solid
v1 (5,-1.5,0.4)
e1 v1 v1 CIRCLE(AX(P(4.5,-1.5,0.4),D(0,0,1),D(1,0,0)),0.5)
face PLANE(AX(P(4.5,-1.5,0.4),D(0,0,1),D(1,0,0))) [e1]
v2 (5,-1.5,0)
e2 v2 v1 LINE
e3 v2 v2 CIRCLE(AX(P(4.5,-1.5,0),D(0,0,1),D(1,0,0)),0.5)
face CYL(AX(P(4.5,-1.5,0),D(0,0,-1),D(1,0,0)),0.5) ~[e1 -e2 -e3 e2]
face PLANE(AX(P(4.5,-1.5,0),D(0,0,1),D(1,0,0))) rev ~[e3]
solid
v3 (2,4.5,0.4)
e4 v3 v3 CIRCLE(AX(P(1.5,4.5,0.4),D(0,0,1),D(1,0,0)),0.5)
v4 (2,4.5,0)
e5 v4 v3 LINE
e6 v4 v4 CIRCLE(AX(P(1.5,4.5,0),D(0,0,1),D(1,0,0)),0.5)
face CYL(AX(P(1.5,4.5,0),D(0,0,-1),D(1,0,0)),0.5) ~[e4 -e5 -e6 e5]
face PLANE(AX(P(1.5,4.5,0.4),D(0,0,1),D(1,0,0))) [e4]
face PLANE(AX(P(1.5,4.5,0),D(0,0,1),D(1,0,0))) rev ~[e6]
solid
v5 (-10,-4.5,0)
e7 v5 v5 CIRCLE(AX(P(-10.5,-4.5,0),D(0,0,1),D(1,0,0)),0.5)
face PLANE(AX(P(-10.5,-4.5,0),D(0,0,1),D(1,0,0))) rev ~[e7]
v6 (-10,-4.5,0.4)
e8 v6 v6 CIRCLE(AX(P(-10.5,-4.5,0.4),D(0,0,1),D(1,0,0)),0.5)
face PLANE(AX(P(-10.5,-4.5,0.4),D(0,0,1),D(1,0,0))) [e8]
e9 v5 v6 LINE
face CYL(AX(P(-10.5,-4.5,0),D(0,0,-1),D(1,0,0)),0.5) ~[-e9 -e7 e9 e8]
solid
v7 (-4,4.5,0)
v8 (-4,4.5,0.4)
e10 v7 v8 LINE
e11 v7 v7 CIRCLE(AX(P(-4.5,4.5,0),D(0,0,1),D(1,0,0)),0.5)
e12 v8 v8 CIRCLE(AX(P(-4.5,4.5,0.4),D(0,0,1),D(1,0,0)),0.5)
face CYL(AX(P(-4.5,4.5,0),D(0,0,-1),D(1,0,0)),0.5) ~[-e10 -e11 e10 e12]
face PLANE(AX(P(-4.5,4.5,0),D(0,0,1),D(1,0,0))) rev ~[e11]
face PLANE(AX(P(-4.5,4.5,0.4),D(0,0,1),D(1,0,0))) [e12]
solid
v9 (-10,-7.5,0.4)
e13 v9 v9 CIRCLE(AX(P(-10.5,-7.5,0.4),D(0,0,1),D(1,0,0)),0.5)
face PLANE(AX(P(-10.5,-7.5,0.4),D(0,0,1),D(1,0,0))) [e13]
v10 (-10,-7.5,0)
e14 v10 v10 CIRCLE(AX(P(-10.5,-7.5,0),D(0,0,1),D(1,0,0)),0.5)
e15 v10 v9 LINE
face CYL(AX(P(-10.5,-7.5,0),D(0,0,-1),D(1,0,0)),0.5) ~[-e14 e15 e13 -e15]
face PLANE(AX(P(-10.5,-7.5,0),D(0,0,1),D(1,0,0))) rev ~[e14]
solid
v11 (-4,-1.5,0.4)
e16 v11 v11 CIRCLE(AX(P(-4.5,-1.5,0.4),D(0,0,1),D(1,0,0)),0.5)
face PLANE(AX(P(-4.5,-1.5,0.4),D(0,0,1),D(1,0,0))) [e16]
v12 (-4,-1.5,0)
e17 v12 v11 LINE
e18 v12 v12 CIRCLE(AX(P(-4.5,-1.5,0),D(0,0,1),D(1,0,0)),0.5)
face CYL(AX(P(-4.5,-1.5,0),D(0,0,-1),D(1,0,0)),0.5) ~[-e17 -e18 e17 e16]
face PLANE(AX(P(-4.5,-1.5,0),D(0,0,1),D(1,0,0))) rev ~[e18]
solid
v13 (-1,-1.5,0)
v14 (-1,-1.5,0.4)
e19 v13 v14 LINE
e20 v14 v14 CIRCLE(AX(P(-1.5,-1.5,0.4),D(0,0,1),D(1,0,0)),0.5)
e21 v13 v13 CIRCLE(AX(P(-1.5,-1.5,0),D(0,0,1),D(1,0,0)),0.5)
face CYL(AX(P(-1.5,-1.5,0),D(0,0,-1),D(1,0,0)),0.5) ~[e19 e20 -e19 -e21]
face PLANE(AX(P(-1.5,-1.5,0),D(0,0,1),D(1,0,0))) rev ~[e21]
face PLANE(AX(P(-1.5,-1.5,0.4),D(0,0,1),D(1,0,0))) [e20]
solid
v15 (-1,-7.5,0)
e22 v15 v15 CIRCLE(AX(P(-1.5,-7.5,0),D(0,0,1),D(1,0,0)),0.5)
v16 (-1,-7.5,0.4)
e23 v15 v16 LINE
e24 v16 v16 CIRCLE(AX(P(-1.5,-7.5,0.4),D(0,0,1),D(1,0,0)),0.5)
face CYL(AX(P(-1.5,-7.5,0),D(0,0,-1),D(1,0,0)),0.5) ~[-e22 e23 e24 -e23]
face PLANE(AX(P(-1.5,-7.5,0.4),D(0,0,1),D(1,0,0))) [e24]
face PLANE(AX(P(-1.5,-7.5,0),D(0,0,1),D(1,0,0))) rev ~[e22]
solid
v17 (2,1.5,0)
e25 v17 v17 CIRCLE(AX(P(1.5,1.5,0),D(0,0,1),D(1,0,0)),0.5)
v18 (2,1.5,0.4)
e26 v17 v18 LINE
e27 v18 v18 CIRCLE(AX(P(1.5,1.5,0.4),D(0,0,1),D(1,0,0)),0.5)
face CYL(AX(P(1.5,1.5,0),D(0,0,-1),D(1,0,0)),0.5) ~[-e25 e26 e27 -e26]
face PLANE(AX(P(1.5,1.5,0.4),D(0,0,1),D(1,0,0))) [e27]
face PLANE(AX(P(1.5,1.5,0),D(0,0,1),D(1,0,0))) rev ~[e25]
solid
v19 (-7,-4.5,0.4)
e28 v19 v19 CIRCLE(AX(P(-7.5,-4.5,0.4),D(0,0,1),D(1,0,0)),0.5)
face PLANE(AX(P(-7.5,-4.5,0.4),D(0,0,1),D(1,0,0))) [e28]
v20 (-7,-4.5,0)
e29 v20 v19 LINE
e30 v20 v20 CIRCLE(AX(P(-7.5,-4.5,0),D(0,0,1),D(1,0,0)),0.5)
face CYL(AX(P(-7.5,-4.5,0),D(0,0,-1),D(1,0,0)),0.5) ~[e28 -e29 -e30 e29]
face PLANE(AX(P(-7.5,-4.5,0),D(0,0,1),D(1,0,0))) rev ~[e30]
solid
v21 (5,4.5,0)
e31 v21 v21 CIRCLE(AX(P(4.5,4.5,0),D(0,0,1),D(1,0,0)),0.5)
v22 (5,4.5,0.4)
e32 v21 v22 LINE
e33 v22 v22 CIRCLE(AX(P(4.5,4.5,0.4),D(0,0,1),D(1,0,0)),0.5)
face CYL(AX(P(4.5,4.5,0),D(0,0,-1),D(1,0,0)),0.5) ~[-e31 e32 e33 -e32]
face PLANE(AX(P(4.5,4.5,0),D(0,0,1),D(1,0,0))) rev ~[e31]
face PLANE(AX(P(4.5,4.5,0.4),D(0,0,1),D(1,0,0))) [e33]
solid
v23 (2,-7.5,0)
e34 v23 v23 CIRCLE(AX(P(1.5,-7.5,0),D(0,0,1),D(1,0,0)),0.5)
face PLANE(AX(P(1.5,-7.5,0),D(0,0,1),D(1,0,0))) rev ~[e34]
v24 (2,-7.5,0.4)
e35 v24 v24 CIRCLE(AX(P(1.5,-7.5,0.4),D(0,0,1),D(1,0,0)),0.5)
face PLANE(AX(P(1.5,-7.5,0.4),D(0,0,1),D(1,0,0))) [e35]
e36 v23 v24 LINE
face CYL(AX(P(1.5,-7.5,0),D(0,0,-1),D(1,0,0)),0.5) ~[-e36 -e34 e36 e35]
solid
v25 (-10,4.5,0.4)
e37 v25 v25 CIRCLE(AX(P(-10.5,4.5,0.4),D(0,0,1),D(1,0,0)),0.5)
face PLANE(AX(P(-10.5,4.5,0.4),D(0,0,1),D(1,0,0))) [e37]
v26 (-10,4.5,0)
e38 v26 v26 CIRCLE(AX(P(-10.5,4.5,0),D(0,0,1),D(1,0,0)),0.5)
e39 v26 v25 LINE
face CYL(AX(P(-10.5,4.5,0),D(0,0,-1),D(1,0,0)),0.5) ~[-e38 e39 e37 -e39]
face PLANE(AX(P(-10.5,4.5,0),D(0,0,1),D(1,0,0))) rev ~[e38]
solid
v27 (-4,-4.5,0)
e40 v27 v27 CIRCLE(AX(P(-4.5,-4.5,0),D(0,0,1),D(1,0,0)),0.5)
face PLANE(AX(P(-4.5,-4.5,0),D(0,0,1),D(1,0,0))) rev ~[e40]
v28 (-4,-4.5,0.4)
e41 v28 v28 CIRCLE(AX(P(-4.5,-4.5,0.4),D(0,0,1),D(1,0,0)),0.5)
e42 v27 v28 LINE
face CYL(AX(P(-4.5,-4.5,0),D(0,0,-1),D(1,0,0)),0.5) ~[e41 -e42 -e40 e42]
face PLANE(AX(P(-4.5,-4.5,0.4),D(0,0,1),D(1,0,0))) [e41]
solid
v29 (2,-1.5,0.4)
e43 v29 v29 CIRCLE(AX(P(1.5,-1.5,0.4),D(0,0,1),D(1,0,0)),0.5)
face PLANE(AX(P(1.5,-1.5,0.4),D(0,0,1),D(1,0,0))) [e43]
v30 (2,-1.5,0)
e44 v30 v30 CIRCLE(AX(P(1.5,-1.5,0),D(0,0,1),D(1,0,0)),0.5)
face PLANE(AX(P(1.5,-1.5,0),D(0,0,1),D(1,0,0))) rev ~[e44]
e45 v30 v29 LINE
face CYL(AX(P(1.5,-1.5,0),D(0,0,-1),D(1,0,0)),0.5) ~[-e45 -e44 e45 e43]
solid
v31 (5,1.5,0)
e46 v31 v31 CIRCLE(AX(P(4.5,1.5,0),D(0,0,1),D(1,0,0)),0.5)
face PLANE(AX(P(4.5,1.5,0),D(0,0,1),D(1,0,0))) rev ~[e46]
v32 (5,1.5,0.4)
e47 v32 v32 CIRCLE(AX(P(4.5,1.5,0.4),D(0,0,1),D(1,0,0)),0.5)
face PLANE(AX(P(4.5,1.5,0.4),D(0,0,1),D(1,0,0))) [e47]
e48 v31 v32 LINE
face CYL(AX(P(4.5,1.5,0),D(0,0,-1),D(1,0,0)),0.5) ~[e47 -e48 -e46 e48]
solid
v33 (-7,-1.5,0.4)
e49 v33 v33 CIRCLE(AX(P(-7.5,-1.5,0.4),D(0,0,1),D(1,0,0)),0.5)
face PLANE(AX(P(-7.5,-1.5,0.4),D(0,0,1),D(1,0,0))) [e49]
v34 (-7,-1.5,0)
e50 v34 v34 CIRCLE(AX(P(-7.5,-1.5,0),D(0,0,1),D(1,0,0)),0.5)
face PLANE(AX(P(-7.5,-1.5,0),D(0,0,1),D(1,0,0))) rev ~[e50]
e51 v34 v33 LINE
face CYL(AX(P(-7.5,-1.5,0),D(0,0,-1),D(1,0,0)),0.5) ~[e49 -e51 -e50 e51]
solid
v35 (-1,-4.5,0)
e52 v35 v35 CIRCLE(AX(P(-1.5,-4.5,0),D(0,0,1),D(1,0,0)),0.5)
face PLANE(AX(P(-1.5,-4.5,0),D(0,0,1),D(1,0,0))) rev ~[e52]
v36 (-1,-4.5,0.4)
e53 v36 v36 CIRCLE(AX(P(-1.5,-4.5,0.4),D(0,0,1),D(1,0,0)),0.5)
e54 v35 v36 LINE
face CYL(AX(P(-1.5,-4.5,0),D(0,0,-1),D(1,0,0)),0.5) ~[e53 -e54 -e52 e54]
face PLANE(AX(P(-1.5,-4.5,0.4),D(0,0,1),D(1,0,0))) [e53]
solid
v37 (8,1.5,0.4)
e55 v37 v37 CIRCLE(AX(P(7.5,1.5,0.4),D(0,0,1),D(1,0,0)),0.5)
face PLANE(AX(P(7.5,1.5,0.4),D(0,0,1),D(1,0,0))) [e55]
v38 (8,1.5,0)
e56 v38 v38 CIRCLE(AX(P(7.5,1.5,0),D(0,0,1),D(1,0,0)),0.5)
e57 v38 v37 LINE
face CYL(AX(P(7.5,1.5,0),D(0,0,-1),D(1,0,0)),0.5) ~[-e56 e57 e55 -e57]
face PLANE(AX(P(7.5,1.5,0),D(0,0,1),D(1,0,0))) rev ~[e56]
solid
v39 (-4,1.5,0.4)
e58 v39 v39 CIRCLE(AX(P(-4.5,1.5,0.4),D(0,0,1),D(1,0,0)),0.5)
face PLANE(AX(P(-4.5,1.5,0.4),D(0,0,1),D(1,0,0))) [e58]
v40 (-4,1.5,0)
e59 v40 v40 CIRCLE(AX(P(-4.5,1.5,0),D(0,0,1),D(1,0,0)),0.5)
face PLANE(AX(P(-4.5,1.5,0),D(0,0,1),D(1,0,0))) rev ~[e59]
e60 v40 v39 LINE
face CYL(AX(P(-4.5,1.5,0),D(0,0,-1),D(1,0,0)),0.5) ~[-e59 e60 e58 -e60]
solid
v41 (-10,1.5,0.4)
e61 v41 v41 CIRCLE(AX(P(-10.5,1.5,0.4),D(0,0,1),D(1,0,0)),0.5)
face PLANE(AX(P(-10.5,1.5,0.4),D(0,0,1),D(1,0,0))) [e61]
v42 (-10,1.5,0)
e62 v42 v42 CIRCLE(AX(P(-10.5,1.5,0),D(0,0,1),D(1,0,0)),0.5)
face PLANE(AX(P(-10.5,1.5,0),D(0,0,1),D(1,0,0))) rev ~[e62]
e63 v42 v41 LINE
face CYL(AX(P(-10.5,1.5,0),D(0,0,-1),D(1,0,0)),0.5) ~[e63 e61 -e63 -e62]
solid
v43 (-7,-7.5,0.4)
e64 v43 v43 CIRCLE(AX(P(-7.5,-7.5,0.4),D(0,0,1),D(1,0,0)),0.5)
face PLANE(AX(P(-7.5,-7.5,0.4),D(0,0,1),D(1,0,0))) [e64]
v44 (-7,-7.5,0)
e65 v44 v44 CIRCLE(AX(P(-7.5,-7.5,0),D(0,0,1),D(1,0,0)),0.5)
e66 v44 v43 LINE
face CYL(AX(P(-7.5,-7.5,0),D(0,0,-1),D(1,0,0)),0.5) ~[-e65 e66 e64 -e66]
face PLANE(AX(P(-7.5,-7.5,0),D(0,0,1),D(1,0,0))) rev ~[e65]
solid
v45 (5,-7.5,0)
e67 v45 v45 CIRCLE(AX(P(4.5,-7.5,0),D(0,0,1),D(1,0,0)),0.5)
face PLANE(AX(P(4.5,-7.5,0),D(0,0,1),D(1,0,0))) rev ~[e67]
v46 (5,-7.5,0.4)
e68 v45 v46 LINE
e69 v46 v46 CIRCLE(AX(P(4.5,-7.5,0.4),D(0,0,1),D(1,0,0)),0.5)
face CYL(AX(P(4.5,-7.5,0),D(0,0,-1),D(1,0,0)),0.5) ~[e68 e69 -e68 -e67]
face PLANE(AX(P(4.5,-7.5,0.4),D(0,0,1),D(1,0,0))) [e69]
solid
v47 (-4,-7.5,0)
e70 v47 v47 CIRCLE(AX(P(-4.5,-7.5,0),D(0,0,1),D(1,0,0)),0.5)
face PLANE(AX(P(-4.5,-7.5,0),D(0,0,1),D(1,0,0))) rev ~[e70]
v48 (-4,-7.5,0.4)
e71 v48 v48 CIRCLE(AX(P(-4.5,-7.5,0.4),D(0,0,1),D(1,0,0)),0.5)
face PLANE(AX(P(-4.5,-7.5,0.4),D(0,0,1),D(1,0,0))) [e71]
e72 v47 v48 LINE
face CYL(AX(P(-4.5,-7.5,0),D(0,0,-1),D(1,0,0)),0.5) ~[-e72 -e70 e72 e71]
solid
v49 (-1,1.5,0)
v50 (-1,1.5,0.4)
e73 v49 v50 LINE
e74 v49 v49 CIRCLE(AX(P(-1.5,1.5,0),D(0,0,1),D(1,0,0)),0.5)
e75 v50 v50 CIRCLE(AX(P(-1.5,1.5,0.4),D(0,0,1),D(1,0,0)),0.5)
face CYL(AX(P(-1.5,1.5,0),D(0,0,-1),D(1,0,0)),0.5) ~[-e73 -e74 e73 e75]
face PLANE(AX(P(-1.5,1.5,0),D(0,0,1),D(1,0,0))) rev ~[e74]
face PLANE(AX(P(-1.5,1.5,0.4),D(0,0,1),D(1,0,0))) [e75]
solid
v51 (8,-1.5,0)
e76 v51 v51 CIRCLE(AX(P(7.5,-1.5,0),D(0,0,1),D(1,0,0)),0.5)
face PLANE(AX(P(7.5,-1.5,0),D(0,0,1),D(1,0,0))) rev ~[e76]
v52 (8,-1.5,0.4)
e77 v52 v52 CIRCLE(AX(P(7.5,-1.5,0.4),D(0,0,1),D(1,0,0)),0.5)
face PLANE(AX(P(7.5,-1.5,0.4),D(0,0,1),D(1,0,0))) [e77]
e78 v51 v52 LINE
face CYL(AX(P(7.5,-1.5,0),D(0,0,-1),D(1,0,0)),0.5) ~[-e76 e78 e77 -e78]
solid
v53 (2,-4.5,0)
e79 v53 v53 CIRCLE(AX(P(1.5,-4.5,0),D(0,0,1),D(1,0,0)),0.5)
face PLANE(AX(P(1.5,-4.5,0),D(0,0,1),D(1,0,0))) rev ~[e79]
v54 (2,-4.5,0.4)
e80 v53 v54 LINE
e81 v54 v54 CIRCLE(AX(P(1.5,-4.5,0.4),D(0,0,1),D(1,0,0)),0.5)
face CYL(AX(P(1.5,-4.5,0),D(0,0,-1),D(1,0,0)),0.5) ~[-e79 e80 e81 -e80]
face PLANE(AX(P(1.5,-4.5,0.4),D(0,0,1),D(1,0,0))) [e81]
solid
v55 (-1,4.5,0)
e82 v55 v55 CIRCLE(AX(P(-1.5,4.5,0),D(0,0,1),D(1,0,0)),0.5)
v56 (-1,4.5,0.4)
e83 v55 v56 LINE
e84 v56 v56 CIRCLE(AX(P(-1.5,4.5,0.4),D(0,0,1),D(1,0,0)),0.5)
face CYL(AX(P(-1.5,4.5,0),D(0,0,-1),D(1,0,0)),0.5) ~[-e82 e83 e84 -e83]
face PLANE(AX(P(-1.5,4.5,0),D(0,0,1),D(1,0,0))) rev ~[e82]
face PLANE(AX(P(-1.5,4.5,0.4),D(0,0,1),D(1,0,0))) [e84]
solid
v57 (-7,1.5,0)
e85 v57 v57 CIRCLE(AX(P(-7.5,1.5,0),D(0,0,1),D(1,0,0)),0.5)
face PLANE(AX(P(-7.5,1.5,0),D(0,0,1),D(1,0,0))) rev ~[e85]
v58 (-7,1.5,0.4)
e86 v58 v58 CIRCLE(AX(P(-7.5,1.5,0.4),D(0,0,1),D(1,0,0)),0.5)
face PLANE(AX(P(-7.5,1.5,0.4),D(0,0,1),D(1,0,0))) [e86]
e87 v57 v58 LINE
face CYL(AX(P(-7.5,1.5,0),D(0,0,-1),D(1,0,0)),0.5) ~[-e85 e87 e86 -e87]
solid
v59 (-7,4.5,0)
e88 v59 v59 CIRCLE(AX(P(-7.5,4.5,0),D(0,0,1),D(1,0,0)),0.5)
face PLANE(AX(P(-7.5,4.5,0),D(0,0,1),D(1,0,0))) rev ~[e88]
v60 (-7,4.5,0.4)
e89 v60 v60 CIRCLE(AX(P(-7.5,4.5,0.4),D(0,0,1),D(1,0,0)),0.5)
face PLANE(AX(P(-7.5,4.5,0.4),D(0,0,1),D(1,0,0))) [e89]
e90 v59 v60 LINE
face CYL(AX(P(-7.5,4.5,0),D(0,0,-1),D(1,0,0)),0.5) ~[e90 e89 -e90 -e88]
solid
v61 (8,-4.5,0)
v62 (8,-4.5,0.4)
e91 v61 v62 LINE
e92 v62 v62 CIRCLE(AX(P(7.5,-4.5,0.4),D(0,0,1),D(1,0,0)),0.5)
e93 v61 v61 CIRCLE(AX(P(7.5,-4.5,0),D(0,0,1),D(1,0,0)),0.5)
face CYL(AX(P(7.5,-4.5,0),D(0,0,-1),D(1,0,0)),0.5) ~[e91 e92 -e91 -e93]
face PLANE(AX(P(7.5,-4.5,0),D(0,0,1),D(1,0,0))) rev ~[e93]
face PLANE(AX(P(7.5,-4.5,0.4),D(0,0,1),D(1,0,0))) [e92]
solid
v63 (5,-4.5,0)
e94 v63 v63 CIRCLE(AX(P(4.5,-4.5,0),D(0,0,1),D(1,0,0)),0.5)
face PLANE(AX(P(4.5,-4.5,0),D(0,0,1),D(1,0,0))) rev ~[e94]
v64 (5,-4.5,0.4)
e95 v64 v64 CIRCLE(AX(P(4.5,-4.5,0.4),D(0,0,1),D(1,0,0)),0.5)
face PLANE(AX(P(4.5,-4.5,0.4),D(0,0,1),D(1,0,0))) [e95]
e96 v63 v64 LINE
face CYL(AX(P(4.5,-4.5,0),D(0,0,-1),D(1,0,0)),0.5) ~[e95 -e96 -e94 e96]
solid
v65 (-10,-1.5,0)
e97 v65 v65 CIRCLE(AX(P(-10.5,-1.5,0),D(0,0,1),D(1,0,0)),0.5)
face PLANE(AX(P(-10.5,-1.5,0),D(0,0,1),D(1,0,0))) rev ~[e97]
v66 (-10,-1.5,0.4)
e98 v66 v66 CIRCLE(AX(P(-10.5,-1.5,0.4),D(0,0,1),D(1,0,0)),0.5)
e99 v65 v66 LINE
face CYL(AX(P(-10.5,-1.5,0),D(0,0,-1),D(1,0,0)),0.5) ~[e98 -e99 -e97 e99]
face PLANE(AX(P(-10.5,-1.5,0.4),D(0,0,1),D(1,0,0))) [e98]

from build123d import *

# Parameters (mm, degrees)
SKETCH_1_R         = 0.5
EXTRUDE_1_DEPTH    = 0.4
EXTRUDE_1_2_DEPTH  = 0.4
EXTRUDE_1_3_DEPTH  = 0.4
EXTRUDE_1_4_DEPTH  = 0.4
EXTRUDE_1_5_DEPTH  = 0.4
EXTRUDE_1_6_DEPTH  = 0.4
EXTRUDE_1_7_DEPTH  = 0.4
EXTRUDE_1_8_DEPTH  = 0.4
EXTRUDE_1_9_DEPTH  = 0.4
EXTRUDE_1_10_DEPTH = 0.4
EXTRUDE_1_11_DEPTH = 0.4
EXTRUDE_1_12_DEPTH = 0.4
EXTRUDE_1_13_DEPTH = 0.4
EXTRUDE_1_14_DEPTH = 0.4
EXTRUDE_1_15_DEPTH = 0.4
EXTRUDE_1_16_DEPTH = 0.4
EXTRUDE_1_17_DEPTH = 0.4
EXTRUDE_1_18_DEPTH = 0.4
EXTRUDE_1_19_DEPTH = 0.4
EXTRUDE_1_20_DEPTH = 0.4
EXTRUDE_1_21_DEPTH = 0.4
EXTRUDE_1_22_DEPTH = 0.4
EXTRUDE_1_23_DEPTH = 0.4
EXTRUDE_1_24_DEPTH = 0.4
EXTRUDE_1_25_DEPTH = 0.4
EXTRUDE_1_26_DEPTH = 0.4
EXTRUDE_1_27_DEPTH = 0.4
EXTRUDE_1_28_DEPTH = 0.4
EXTRUDE_1_29_DEPTH = 0.4
EXTRUDE_1_30_DEPTH = 0.4
EXTRUDE_1_31_DEPTH = 0.4
EXTRUDE_1_32_DEPTH = 0.4
EXTRUDE_1_33_DEPTH = 0.4
EXTRUDE_1_34_DEPTH = 0.4
EXTRUDE_1_35_DEPTH = 0.4
EXTRUDE_1_36_DEPTH = 0.4
EXTRUDE_1_37_DEPTH = 0.4
EXTRUDE_1_38_DEPTH = 0.4
EXTRUDE_1_39_DEPTH = 0.4
EXTRUDE_1_40_DEPTH = 0.4
EXTRUDE_1_41_DEPTH = 0.4
EXTRUDE_1_42_DEPTH = 0.4


with BuildPart() as part:
    # 草图1 → 凸台-拉伸1 (new body)
    with BuildSketch(Plane.XY):
        with Locations((-4.5, 1.5)):
            Circle(SKETCH_1_R)
    extrude(amount=EXTRUDE_1_DEPTH)


with BuildPart() as body_2:
    # 草图1 → Extrude 1 2 (new body)
    with BuildSketch(Plane.XY):
        with Locations((-1.5, 1.5)):
            Circle(SKETCH_1_R)
    extrude(amount=EXTRUDE_1_2_DEPTH)


with BuildPart() as body_3:
    # 草图1 → Extrude 1 3 (new body)
    with BuildSketch(Plane.XY):
        with Locations((1.5, 1.5)):
            Circle(SKETCH_1_R)
    extrude(amount=EXTRUDE_1_3_DEPTH)


with BuildPart() as body_4:
    # 草图1 → Extrude 1 4 (new body)
    with BuildSketch(Plane.XY):
        with Locations((4.5, 1.5)):
            Circle(SKETCH_1_R)
    extrude(amount=EXTRUDE_1_4_DEPTH)


with BuildPart() as body_5:
    # 草图1 → Extrude 1 5 (new body)
    with BuildSketch(Plane.XY):
        with Locations((7.5, 1.5)):
            Circle(SKETCH_1_R)
    extrude(amount=EXTRUDE_1_5_DEPTH)


with BuildPart() as body_6:
    # 草图1 → Extrude 1 6 (new body)
    with BuildSketch(Plane.XY):
        with Locations((10.5, 1.5)):
            Circle(SKETCH_1_R)
    extrude(amount=EXTRUDE_1_6_DEPTH)


with BuildPart() as body_7:
    # 草图1 → Extrude 1 7 (new body)
    with BuildSketch(Plane.XY):
        with Locations((10.5, -1.5)):
            Circle(SKETCH_1_R)
    extrude(amount=EXTRUDE_1_7_DEPTH)


with BuildPart() as body_8:
    # 草图1 → Extrude 1 8 (new body)
    with BuildSketch(Plane.XY):
        with Locations((7.5, -1.5)):
            Circle(SKETCH_1_R)
    extrude(amount=EXTRUDE_1_8_DEPTH)


with BuildPart() as body_9:
    # 草图1 → Extrude 1 9 (new body)
    with BuildSketch(Plane.XY):
        with Locations((-10.5, 7.5)):
            Circle(SKETCH_1_R)
    extrude(amount=EXTRUDE_1_9_DEPTH)


with BuildPart() as body_10:
    # 草图1 → Extrude 1 10 (new body)
    with BuildSketch(Plane.XY):
        with Locations((-1.5, 7.5)):
            Circle(SKETCH_1_R)
    extrude(amount=EXTRUDE_1_10_DEPTH)


with BuildPart() as body_11:
    # 草图1 → Extrude 1 11 (new body)
    with BuildSketch(Plane.XY):
        with Locations((1.5, 7.5)):
            Circle(SKETCH_1_R)
    extrude(amount=EXTRUDE_1_11_DEPTH)


with BuildPart() as body_12:
    # 草图1 → Extrude 1 12 (new body)
    with BuildSketch(Plane.XY):
        with Locations((4.5, 7.5)):
            Circle(SKETCH_1_R)
    extrude(amount=EXTRUDE_1_12_DEPTH)


with BuildPart() as body_13:
    # 草图1 → Extrude 1 13 (new body)
    with BuildSketch(Plane.XY):
        with Locations((-10.5, 1.5)):
            Circle(SKETCH_1_R)
    extrude(amount=EXTRUDE_1_13_DEPTH)


with BuildPart() as body_14:
    # 草图1 → Extrude 1 14 (new body)
    with BuildSketch(Plane.XY):
        with Locations((-10.5, 4.5)):
            Circle(SKETCH_1_R)
    extrude(amount=EXTRUDE_1_14_DEPTH)


with BuildPart() as body_15:
    # 草图1 → Extrude 1 15 (new body)
    with BuildSketch(Plane.XY):
        with Locations((-10.5, -1.5)):
            Circle(SKETCH_1_R)
    extrude(amount=EXTRUDE_1_15_DEPTH)


with BuildPart() as body_16:
    # 草图1 → Extrude 1 16 (new body)
    with BuildSketch(Plane.XY):
        with Locations((-10.5, -4.5)):
            Circle(SKETCH_1_R)
    extrude(amount=EXTRUDE_1_16_DEPTH)


with BuildPart() as body_17:
    # 草图1 → Extrude 1 17 (new body)
    with BuildSketch(Plane.XY):
        with Locations((-10.5, -7.5)):
            Circle(SKETCH_1_R)
    extrude(amount=EXTRUDE_1_17_DEPTH)


with BuildPart() as body_18:
    # 草图1 → Extrude 1 18 (new body)
    with BuildSketch(Plane.XY):
        with Locations((-7.5, -7.5)):
            Circle(SKETCH_1_R)
    extrude(amount=EXTRUDE_1_18_DEPTH)


with BuildPart() as body_19:
    # 草图1 → Extrude 1 19 (new body)
    with BuildSketch(Plane.XY):
        with Locations((-7.5, -4.5)):
            Circle(SKETCH_1_R)
    extrude(amount=EXTRUDE_1_19_DEPTH)


with BuildPart() as body_20:
    # 草图1 → Extrude 1 20 (new body)
    with BuildSketch(Plane.XY):
        with Locations((-7.5, -1.5)):
            Circle(SKETCH_1_R)
    extrude(amount=EXTRUDE_1_20_DEPTH)


with BuildPart() as body_21:
    # 草图1 → Extrude 1 21 (new body)
    with BuildSketch(Plane.XY):
        with Locations((-7.5, 1.5)):
            Circle(SKETCH_1_R)
    extrude(amount=EXTRUDE_1_21_DEPTH)


with BuildPart() as body_22:
    # 草图1 → Extrude 1 22 (new body)
    with BuildSketch(Plane.XY):
        with Locations((-7.5, 4.5)):
            Circle(SKETCH_1_R)
    extrude(amount=EXTRUDE_1_22_DEPTH)


with BuildPart() as body_23:
    # 草图1 → Extrude 1 23 (new body)
    with BuildSketch(Plane.XY):
        with Locations((-4.5, 4.5)):
            Circle(SKETCH_1_R)
    extrude(amount=EXTRUDE_1_23_DEPTH)


with BuildPart() as body_24:
    # 草图1 → Extrude 1 24 (new body)
    with BuildSketch(Plane.XY):
        with Locations((-1.5, 4.5)):
            Circle(SKETCH_1_R)
    extrude(amount=EXTRUDE_1_24_DEPTH)


with BuildPart() as body_25:
    # 草图1 → Extrude 1 25 (new body)
    with BuildSketch(Plane.XY):
        with Locations((1.5, 4.5)):
            Circle(SKETCH_1_R)
    extrude(amount=EXTRUDE_1_25_DEPTH)


with BuildPart() as body_26:
    # 草图1 → Extrude 1 26 (new body)
    with BuildSketch(Plane.XY):
        with Locations((7.5, 4.5)):
            Circle(SKETCH_1_R)
    extrude(amount=EXTRUDE_1_26_DEPTH)


with BuildPart() as body_27:
    # 草图1 → Extrude 1 27 (new body)
    with BuildSketch(Plane.XY):
        with Locations((1.5, -1.5)):
            Circle(SKETCH_1_R)
    extrude(amount=EXTRUDE_1_27_DEPTH)


with BuildPart() as body_28:
    # 草图1 → Extrude 1 28 (new body)
    with BuildSketch(Plane.XY):
        with Locations((-1.5, -1.5)):
            Circle(SKETCH_1_R)
    extrude(amount=EXTRUDE_1_28_DEPTH)


with BuildPart() as body_29:
    # 草图1 → Extrude 1 29 (new body)
    with BuildSketch(Plane.XY):
        with Locations((-4.5, -1.5)):
            Circle(SKETCH_1_R)
    extrude(amount=EXTRUDE_1_29_DEPTH)


with BuildPart() as body_30:
    # 草图1 → Extrude 1 30 (new body)
    with BuildSketch(Plane.XY):
        with Locations((-4.5, -4.5)):
            Circle(SKETCH_1_R)
    extrude(amount=EXTRUDE_1_30_DEPTH)


with BuildPart() as body_31:
    # 草图1 → Extrude 1 31 (new body)
    with BuildSketch(Plane.XY):
        with Locations((-1.5, -4.5)):
            Circle(SKETCH_1_R)
    extrude(amount=EXTRUDE_1_31_DEPTH)


with BuildPart() as body_32:
    # 草图1 → Extrude 1 32 (new body)
    with BuildSketch(Plane.XY):
        with Locations((-4.5, -7.5)):
            Circle(SKETCH_1_R)
    extrude(amount=EXTRUDE_1_32_DEPTH)


with BuildPart() as body_33:
    # 草图1 → Extrude 1 33 (new body)
    with BuildSketch(Plane.XY):
        with Locations((-1.5, -7.5)):
            Circle(SKETCH_1_R)
    extrude(amount=EXTRUDE_1_33_DEPTH)


with BuildPart() as body_34:
    # 草图1 → Extrude 1 34 (new body)
    with BuildSketch(Plane.XY):
        with Locations((1.5, -7.5)):
            Circle(SKETCH_1_R)
    extrude(amount=EXTRUDE_1_34_DEPTH)


with BuildPart() as body_35:
    # 草图1 → Extrude 1 35 (new body)
    with BuildSketch(Plane.XY):
        with Locations((4.5, -7.5)):
            Circle(SKETCH_1_R)
    extrude(amount=EXTRUDE_1_35_DEPTH)


with BuildPart() as body_36:
    # 草图1 → Extrude 1 36 (new body)
    with BuildSketch(Plane.XY):
        with Locations((4.5, -4.5)):
            Circle(SKETCH_1_R)
    extrude(amount=EXTRUDE_1_36_DEPTH)


with BuildPart() as body_37:
    # 草图1 → Extrude 1 37 (new body)
    with BuildSketch(Plane.XY):
        with Locations((7.5, -4.5)):
            Circle(SKETCH_1_R)
    extrude(amount=EXTRUDE_1_37_DEPTH)


with BuildPart() as body_38:
    # 草图1 → Extrude 1 38 (new body)
    with BuildSketch(Plane.XY):
        with Locations((4.5, -1.5)):
            Circle(SKETCH_1_R)
    extrude(amount=EXTRUDE_1_38_DEPTH)


with BuildPart() as body_39:
    # 草图1 → Extrude 1 39 (new body)
    with BuildSketch(Plane.XY):
        with Locations((-7.5, 7.5)):
            Circle(SKETCH_1_R)
    extrude(amount=EXTRUDE_1_39_DEPTH)


with BuildPart() as body_40:
    # 草图1 → Extrude 1 40 (new body)
    with BuildSketch(Plane.XY):
        with Locations((-4.5, 7.5)):
            Circle(SKETCH_1_R)
    extrude(amount=EXTRUDE_1_40_DEPTH)


with BuildPart() as body_41:
    # 草图1 → Extrude 1 41 (new body)
    with BuildSketch(Plane.XY):
        with Locations((4.5, 4.5)):
            Circle(SKETCH_1_R)
    extrude(amount=EXTRUDE_1_41_DEPTH)


with BuildPart() as body_42:
    # 草图1 → Extrude 1 42 (new body)
    with BuildSketch(Plane.XY):
        with Locations((1.5, -4.5)):
            Circle(SKETCH_1_R)
    extrude(amount=EXTRUDE_1_42_DEPTH)


solid = Compound([part.part, body_2.part, body_3.part, body_4.part, body_5.part, body_8.part, body_13.part, body_14.part, body_15.part, body_16.part, body_17.part, body_18.part, body_19.part, body_20.part, body_21.part, body_22.part, body_23.part, body_24.part, body_25.part, body_27.part, body_28.part, body_29.part, body_30.part, body_31.part, body_32.part, body_33.part, body_34.part, body_35.part, body_36.part, body_37.part, body_38.part, body_41.part, body_42.part])
